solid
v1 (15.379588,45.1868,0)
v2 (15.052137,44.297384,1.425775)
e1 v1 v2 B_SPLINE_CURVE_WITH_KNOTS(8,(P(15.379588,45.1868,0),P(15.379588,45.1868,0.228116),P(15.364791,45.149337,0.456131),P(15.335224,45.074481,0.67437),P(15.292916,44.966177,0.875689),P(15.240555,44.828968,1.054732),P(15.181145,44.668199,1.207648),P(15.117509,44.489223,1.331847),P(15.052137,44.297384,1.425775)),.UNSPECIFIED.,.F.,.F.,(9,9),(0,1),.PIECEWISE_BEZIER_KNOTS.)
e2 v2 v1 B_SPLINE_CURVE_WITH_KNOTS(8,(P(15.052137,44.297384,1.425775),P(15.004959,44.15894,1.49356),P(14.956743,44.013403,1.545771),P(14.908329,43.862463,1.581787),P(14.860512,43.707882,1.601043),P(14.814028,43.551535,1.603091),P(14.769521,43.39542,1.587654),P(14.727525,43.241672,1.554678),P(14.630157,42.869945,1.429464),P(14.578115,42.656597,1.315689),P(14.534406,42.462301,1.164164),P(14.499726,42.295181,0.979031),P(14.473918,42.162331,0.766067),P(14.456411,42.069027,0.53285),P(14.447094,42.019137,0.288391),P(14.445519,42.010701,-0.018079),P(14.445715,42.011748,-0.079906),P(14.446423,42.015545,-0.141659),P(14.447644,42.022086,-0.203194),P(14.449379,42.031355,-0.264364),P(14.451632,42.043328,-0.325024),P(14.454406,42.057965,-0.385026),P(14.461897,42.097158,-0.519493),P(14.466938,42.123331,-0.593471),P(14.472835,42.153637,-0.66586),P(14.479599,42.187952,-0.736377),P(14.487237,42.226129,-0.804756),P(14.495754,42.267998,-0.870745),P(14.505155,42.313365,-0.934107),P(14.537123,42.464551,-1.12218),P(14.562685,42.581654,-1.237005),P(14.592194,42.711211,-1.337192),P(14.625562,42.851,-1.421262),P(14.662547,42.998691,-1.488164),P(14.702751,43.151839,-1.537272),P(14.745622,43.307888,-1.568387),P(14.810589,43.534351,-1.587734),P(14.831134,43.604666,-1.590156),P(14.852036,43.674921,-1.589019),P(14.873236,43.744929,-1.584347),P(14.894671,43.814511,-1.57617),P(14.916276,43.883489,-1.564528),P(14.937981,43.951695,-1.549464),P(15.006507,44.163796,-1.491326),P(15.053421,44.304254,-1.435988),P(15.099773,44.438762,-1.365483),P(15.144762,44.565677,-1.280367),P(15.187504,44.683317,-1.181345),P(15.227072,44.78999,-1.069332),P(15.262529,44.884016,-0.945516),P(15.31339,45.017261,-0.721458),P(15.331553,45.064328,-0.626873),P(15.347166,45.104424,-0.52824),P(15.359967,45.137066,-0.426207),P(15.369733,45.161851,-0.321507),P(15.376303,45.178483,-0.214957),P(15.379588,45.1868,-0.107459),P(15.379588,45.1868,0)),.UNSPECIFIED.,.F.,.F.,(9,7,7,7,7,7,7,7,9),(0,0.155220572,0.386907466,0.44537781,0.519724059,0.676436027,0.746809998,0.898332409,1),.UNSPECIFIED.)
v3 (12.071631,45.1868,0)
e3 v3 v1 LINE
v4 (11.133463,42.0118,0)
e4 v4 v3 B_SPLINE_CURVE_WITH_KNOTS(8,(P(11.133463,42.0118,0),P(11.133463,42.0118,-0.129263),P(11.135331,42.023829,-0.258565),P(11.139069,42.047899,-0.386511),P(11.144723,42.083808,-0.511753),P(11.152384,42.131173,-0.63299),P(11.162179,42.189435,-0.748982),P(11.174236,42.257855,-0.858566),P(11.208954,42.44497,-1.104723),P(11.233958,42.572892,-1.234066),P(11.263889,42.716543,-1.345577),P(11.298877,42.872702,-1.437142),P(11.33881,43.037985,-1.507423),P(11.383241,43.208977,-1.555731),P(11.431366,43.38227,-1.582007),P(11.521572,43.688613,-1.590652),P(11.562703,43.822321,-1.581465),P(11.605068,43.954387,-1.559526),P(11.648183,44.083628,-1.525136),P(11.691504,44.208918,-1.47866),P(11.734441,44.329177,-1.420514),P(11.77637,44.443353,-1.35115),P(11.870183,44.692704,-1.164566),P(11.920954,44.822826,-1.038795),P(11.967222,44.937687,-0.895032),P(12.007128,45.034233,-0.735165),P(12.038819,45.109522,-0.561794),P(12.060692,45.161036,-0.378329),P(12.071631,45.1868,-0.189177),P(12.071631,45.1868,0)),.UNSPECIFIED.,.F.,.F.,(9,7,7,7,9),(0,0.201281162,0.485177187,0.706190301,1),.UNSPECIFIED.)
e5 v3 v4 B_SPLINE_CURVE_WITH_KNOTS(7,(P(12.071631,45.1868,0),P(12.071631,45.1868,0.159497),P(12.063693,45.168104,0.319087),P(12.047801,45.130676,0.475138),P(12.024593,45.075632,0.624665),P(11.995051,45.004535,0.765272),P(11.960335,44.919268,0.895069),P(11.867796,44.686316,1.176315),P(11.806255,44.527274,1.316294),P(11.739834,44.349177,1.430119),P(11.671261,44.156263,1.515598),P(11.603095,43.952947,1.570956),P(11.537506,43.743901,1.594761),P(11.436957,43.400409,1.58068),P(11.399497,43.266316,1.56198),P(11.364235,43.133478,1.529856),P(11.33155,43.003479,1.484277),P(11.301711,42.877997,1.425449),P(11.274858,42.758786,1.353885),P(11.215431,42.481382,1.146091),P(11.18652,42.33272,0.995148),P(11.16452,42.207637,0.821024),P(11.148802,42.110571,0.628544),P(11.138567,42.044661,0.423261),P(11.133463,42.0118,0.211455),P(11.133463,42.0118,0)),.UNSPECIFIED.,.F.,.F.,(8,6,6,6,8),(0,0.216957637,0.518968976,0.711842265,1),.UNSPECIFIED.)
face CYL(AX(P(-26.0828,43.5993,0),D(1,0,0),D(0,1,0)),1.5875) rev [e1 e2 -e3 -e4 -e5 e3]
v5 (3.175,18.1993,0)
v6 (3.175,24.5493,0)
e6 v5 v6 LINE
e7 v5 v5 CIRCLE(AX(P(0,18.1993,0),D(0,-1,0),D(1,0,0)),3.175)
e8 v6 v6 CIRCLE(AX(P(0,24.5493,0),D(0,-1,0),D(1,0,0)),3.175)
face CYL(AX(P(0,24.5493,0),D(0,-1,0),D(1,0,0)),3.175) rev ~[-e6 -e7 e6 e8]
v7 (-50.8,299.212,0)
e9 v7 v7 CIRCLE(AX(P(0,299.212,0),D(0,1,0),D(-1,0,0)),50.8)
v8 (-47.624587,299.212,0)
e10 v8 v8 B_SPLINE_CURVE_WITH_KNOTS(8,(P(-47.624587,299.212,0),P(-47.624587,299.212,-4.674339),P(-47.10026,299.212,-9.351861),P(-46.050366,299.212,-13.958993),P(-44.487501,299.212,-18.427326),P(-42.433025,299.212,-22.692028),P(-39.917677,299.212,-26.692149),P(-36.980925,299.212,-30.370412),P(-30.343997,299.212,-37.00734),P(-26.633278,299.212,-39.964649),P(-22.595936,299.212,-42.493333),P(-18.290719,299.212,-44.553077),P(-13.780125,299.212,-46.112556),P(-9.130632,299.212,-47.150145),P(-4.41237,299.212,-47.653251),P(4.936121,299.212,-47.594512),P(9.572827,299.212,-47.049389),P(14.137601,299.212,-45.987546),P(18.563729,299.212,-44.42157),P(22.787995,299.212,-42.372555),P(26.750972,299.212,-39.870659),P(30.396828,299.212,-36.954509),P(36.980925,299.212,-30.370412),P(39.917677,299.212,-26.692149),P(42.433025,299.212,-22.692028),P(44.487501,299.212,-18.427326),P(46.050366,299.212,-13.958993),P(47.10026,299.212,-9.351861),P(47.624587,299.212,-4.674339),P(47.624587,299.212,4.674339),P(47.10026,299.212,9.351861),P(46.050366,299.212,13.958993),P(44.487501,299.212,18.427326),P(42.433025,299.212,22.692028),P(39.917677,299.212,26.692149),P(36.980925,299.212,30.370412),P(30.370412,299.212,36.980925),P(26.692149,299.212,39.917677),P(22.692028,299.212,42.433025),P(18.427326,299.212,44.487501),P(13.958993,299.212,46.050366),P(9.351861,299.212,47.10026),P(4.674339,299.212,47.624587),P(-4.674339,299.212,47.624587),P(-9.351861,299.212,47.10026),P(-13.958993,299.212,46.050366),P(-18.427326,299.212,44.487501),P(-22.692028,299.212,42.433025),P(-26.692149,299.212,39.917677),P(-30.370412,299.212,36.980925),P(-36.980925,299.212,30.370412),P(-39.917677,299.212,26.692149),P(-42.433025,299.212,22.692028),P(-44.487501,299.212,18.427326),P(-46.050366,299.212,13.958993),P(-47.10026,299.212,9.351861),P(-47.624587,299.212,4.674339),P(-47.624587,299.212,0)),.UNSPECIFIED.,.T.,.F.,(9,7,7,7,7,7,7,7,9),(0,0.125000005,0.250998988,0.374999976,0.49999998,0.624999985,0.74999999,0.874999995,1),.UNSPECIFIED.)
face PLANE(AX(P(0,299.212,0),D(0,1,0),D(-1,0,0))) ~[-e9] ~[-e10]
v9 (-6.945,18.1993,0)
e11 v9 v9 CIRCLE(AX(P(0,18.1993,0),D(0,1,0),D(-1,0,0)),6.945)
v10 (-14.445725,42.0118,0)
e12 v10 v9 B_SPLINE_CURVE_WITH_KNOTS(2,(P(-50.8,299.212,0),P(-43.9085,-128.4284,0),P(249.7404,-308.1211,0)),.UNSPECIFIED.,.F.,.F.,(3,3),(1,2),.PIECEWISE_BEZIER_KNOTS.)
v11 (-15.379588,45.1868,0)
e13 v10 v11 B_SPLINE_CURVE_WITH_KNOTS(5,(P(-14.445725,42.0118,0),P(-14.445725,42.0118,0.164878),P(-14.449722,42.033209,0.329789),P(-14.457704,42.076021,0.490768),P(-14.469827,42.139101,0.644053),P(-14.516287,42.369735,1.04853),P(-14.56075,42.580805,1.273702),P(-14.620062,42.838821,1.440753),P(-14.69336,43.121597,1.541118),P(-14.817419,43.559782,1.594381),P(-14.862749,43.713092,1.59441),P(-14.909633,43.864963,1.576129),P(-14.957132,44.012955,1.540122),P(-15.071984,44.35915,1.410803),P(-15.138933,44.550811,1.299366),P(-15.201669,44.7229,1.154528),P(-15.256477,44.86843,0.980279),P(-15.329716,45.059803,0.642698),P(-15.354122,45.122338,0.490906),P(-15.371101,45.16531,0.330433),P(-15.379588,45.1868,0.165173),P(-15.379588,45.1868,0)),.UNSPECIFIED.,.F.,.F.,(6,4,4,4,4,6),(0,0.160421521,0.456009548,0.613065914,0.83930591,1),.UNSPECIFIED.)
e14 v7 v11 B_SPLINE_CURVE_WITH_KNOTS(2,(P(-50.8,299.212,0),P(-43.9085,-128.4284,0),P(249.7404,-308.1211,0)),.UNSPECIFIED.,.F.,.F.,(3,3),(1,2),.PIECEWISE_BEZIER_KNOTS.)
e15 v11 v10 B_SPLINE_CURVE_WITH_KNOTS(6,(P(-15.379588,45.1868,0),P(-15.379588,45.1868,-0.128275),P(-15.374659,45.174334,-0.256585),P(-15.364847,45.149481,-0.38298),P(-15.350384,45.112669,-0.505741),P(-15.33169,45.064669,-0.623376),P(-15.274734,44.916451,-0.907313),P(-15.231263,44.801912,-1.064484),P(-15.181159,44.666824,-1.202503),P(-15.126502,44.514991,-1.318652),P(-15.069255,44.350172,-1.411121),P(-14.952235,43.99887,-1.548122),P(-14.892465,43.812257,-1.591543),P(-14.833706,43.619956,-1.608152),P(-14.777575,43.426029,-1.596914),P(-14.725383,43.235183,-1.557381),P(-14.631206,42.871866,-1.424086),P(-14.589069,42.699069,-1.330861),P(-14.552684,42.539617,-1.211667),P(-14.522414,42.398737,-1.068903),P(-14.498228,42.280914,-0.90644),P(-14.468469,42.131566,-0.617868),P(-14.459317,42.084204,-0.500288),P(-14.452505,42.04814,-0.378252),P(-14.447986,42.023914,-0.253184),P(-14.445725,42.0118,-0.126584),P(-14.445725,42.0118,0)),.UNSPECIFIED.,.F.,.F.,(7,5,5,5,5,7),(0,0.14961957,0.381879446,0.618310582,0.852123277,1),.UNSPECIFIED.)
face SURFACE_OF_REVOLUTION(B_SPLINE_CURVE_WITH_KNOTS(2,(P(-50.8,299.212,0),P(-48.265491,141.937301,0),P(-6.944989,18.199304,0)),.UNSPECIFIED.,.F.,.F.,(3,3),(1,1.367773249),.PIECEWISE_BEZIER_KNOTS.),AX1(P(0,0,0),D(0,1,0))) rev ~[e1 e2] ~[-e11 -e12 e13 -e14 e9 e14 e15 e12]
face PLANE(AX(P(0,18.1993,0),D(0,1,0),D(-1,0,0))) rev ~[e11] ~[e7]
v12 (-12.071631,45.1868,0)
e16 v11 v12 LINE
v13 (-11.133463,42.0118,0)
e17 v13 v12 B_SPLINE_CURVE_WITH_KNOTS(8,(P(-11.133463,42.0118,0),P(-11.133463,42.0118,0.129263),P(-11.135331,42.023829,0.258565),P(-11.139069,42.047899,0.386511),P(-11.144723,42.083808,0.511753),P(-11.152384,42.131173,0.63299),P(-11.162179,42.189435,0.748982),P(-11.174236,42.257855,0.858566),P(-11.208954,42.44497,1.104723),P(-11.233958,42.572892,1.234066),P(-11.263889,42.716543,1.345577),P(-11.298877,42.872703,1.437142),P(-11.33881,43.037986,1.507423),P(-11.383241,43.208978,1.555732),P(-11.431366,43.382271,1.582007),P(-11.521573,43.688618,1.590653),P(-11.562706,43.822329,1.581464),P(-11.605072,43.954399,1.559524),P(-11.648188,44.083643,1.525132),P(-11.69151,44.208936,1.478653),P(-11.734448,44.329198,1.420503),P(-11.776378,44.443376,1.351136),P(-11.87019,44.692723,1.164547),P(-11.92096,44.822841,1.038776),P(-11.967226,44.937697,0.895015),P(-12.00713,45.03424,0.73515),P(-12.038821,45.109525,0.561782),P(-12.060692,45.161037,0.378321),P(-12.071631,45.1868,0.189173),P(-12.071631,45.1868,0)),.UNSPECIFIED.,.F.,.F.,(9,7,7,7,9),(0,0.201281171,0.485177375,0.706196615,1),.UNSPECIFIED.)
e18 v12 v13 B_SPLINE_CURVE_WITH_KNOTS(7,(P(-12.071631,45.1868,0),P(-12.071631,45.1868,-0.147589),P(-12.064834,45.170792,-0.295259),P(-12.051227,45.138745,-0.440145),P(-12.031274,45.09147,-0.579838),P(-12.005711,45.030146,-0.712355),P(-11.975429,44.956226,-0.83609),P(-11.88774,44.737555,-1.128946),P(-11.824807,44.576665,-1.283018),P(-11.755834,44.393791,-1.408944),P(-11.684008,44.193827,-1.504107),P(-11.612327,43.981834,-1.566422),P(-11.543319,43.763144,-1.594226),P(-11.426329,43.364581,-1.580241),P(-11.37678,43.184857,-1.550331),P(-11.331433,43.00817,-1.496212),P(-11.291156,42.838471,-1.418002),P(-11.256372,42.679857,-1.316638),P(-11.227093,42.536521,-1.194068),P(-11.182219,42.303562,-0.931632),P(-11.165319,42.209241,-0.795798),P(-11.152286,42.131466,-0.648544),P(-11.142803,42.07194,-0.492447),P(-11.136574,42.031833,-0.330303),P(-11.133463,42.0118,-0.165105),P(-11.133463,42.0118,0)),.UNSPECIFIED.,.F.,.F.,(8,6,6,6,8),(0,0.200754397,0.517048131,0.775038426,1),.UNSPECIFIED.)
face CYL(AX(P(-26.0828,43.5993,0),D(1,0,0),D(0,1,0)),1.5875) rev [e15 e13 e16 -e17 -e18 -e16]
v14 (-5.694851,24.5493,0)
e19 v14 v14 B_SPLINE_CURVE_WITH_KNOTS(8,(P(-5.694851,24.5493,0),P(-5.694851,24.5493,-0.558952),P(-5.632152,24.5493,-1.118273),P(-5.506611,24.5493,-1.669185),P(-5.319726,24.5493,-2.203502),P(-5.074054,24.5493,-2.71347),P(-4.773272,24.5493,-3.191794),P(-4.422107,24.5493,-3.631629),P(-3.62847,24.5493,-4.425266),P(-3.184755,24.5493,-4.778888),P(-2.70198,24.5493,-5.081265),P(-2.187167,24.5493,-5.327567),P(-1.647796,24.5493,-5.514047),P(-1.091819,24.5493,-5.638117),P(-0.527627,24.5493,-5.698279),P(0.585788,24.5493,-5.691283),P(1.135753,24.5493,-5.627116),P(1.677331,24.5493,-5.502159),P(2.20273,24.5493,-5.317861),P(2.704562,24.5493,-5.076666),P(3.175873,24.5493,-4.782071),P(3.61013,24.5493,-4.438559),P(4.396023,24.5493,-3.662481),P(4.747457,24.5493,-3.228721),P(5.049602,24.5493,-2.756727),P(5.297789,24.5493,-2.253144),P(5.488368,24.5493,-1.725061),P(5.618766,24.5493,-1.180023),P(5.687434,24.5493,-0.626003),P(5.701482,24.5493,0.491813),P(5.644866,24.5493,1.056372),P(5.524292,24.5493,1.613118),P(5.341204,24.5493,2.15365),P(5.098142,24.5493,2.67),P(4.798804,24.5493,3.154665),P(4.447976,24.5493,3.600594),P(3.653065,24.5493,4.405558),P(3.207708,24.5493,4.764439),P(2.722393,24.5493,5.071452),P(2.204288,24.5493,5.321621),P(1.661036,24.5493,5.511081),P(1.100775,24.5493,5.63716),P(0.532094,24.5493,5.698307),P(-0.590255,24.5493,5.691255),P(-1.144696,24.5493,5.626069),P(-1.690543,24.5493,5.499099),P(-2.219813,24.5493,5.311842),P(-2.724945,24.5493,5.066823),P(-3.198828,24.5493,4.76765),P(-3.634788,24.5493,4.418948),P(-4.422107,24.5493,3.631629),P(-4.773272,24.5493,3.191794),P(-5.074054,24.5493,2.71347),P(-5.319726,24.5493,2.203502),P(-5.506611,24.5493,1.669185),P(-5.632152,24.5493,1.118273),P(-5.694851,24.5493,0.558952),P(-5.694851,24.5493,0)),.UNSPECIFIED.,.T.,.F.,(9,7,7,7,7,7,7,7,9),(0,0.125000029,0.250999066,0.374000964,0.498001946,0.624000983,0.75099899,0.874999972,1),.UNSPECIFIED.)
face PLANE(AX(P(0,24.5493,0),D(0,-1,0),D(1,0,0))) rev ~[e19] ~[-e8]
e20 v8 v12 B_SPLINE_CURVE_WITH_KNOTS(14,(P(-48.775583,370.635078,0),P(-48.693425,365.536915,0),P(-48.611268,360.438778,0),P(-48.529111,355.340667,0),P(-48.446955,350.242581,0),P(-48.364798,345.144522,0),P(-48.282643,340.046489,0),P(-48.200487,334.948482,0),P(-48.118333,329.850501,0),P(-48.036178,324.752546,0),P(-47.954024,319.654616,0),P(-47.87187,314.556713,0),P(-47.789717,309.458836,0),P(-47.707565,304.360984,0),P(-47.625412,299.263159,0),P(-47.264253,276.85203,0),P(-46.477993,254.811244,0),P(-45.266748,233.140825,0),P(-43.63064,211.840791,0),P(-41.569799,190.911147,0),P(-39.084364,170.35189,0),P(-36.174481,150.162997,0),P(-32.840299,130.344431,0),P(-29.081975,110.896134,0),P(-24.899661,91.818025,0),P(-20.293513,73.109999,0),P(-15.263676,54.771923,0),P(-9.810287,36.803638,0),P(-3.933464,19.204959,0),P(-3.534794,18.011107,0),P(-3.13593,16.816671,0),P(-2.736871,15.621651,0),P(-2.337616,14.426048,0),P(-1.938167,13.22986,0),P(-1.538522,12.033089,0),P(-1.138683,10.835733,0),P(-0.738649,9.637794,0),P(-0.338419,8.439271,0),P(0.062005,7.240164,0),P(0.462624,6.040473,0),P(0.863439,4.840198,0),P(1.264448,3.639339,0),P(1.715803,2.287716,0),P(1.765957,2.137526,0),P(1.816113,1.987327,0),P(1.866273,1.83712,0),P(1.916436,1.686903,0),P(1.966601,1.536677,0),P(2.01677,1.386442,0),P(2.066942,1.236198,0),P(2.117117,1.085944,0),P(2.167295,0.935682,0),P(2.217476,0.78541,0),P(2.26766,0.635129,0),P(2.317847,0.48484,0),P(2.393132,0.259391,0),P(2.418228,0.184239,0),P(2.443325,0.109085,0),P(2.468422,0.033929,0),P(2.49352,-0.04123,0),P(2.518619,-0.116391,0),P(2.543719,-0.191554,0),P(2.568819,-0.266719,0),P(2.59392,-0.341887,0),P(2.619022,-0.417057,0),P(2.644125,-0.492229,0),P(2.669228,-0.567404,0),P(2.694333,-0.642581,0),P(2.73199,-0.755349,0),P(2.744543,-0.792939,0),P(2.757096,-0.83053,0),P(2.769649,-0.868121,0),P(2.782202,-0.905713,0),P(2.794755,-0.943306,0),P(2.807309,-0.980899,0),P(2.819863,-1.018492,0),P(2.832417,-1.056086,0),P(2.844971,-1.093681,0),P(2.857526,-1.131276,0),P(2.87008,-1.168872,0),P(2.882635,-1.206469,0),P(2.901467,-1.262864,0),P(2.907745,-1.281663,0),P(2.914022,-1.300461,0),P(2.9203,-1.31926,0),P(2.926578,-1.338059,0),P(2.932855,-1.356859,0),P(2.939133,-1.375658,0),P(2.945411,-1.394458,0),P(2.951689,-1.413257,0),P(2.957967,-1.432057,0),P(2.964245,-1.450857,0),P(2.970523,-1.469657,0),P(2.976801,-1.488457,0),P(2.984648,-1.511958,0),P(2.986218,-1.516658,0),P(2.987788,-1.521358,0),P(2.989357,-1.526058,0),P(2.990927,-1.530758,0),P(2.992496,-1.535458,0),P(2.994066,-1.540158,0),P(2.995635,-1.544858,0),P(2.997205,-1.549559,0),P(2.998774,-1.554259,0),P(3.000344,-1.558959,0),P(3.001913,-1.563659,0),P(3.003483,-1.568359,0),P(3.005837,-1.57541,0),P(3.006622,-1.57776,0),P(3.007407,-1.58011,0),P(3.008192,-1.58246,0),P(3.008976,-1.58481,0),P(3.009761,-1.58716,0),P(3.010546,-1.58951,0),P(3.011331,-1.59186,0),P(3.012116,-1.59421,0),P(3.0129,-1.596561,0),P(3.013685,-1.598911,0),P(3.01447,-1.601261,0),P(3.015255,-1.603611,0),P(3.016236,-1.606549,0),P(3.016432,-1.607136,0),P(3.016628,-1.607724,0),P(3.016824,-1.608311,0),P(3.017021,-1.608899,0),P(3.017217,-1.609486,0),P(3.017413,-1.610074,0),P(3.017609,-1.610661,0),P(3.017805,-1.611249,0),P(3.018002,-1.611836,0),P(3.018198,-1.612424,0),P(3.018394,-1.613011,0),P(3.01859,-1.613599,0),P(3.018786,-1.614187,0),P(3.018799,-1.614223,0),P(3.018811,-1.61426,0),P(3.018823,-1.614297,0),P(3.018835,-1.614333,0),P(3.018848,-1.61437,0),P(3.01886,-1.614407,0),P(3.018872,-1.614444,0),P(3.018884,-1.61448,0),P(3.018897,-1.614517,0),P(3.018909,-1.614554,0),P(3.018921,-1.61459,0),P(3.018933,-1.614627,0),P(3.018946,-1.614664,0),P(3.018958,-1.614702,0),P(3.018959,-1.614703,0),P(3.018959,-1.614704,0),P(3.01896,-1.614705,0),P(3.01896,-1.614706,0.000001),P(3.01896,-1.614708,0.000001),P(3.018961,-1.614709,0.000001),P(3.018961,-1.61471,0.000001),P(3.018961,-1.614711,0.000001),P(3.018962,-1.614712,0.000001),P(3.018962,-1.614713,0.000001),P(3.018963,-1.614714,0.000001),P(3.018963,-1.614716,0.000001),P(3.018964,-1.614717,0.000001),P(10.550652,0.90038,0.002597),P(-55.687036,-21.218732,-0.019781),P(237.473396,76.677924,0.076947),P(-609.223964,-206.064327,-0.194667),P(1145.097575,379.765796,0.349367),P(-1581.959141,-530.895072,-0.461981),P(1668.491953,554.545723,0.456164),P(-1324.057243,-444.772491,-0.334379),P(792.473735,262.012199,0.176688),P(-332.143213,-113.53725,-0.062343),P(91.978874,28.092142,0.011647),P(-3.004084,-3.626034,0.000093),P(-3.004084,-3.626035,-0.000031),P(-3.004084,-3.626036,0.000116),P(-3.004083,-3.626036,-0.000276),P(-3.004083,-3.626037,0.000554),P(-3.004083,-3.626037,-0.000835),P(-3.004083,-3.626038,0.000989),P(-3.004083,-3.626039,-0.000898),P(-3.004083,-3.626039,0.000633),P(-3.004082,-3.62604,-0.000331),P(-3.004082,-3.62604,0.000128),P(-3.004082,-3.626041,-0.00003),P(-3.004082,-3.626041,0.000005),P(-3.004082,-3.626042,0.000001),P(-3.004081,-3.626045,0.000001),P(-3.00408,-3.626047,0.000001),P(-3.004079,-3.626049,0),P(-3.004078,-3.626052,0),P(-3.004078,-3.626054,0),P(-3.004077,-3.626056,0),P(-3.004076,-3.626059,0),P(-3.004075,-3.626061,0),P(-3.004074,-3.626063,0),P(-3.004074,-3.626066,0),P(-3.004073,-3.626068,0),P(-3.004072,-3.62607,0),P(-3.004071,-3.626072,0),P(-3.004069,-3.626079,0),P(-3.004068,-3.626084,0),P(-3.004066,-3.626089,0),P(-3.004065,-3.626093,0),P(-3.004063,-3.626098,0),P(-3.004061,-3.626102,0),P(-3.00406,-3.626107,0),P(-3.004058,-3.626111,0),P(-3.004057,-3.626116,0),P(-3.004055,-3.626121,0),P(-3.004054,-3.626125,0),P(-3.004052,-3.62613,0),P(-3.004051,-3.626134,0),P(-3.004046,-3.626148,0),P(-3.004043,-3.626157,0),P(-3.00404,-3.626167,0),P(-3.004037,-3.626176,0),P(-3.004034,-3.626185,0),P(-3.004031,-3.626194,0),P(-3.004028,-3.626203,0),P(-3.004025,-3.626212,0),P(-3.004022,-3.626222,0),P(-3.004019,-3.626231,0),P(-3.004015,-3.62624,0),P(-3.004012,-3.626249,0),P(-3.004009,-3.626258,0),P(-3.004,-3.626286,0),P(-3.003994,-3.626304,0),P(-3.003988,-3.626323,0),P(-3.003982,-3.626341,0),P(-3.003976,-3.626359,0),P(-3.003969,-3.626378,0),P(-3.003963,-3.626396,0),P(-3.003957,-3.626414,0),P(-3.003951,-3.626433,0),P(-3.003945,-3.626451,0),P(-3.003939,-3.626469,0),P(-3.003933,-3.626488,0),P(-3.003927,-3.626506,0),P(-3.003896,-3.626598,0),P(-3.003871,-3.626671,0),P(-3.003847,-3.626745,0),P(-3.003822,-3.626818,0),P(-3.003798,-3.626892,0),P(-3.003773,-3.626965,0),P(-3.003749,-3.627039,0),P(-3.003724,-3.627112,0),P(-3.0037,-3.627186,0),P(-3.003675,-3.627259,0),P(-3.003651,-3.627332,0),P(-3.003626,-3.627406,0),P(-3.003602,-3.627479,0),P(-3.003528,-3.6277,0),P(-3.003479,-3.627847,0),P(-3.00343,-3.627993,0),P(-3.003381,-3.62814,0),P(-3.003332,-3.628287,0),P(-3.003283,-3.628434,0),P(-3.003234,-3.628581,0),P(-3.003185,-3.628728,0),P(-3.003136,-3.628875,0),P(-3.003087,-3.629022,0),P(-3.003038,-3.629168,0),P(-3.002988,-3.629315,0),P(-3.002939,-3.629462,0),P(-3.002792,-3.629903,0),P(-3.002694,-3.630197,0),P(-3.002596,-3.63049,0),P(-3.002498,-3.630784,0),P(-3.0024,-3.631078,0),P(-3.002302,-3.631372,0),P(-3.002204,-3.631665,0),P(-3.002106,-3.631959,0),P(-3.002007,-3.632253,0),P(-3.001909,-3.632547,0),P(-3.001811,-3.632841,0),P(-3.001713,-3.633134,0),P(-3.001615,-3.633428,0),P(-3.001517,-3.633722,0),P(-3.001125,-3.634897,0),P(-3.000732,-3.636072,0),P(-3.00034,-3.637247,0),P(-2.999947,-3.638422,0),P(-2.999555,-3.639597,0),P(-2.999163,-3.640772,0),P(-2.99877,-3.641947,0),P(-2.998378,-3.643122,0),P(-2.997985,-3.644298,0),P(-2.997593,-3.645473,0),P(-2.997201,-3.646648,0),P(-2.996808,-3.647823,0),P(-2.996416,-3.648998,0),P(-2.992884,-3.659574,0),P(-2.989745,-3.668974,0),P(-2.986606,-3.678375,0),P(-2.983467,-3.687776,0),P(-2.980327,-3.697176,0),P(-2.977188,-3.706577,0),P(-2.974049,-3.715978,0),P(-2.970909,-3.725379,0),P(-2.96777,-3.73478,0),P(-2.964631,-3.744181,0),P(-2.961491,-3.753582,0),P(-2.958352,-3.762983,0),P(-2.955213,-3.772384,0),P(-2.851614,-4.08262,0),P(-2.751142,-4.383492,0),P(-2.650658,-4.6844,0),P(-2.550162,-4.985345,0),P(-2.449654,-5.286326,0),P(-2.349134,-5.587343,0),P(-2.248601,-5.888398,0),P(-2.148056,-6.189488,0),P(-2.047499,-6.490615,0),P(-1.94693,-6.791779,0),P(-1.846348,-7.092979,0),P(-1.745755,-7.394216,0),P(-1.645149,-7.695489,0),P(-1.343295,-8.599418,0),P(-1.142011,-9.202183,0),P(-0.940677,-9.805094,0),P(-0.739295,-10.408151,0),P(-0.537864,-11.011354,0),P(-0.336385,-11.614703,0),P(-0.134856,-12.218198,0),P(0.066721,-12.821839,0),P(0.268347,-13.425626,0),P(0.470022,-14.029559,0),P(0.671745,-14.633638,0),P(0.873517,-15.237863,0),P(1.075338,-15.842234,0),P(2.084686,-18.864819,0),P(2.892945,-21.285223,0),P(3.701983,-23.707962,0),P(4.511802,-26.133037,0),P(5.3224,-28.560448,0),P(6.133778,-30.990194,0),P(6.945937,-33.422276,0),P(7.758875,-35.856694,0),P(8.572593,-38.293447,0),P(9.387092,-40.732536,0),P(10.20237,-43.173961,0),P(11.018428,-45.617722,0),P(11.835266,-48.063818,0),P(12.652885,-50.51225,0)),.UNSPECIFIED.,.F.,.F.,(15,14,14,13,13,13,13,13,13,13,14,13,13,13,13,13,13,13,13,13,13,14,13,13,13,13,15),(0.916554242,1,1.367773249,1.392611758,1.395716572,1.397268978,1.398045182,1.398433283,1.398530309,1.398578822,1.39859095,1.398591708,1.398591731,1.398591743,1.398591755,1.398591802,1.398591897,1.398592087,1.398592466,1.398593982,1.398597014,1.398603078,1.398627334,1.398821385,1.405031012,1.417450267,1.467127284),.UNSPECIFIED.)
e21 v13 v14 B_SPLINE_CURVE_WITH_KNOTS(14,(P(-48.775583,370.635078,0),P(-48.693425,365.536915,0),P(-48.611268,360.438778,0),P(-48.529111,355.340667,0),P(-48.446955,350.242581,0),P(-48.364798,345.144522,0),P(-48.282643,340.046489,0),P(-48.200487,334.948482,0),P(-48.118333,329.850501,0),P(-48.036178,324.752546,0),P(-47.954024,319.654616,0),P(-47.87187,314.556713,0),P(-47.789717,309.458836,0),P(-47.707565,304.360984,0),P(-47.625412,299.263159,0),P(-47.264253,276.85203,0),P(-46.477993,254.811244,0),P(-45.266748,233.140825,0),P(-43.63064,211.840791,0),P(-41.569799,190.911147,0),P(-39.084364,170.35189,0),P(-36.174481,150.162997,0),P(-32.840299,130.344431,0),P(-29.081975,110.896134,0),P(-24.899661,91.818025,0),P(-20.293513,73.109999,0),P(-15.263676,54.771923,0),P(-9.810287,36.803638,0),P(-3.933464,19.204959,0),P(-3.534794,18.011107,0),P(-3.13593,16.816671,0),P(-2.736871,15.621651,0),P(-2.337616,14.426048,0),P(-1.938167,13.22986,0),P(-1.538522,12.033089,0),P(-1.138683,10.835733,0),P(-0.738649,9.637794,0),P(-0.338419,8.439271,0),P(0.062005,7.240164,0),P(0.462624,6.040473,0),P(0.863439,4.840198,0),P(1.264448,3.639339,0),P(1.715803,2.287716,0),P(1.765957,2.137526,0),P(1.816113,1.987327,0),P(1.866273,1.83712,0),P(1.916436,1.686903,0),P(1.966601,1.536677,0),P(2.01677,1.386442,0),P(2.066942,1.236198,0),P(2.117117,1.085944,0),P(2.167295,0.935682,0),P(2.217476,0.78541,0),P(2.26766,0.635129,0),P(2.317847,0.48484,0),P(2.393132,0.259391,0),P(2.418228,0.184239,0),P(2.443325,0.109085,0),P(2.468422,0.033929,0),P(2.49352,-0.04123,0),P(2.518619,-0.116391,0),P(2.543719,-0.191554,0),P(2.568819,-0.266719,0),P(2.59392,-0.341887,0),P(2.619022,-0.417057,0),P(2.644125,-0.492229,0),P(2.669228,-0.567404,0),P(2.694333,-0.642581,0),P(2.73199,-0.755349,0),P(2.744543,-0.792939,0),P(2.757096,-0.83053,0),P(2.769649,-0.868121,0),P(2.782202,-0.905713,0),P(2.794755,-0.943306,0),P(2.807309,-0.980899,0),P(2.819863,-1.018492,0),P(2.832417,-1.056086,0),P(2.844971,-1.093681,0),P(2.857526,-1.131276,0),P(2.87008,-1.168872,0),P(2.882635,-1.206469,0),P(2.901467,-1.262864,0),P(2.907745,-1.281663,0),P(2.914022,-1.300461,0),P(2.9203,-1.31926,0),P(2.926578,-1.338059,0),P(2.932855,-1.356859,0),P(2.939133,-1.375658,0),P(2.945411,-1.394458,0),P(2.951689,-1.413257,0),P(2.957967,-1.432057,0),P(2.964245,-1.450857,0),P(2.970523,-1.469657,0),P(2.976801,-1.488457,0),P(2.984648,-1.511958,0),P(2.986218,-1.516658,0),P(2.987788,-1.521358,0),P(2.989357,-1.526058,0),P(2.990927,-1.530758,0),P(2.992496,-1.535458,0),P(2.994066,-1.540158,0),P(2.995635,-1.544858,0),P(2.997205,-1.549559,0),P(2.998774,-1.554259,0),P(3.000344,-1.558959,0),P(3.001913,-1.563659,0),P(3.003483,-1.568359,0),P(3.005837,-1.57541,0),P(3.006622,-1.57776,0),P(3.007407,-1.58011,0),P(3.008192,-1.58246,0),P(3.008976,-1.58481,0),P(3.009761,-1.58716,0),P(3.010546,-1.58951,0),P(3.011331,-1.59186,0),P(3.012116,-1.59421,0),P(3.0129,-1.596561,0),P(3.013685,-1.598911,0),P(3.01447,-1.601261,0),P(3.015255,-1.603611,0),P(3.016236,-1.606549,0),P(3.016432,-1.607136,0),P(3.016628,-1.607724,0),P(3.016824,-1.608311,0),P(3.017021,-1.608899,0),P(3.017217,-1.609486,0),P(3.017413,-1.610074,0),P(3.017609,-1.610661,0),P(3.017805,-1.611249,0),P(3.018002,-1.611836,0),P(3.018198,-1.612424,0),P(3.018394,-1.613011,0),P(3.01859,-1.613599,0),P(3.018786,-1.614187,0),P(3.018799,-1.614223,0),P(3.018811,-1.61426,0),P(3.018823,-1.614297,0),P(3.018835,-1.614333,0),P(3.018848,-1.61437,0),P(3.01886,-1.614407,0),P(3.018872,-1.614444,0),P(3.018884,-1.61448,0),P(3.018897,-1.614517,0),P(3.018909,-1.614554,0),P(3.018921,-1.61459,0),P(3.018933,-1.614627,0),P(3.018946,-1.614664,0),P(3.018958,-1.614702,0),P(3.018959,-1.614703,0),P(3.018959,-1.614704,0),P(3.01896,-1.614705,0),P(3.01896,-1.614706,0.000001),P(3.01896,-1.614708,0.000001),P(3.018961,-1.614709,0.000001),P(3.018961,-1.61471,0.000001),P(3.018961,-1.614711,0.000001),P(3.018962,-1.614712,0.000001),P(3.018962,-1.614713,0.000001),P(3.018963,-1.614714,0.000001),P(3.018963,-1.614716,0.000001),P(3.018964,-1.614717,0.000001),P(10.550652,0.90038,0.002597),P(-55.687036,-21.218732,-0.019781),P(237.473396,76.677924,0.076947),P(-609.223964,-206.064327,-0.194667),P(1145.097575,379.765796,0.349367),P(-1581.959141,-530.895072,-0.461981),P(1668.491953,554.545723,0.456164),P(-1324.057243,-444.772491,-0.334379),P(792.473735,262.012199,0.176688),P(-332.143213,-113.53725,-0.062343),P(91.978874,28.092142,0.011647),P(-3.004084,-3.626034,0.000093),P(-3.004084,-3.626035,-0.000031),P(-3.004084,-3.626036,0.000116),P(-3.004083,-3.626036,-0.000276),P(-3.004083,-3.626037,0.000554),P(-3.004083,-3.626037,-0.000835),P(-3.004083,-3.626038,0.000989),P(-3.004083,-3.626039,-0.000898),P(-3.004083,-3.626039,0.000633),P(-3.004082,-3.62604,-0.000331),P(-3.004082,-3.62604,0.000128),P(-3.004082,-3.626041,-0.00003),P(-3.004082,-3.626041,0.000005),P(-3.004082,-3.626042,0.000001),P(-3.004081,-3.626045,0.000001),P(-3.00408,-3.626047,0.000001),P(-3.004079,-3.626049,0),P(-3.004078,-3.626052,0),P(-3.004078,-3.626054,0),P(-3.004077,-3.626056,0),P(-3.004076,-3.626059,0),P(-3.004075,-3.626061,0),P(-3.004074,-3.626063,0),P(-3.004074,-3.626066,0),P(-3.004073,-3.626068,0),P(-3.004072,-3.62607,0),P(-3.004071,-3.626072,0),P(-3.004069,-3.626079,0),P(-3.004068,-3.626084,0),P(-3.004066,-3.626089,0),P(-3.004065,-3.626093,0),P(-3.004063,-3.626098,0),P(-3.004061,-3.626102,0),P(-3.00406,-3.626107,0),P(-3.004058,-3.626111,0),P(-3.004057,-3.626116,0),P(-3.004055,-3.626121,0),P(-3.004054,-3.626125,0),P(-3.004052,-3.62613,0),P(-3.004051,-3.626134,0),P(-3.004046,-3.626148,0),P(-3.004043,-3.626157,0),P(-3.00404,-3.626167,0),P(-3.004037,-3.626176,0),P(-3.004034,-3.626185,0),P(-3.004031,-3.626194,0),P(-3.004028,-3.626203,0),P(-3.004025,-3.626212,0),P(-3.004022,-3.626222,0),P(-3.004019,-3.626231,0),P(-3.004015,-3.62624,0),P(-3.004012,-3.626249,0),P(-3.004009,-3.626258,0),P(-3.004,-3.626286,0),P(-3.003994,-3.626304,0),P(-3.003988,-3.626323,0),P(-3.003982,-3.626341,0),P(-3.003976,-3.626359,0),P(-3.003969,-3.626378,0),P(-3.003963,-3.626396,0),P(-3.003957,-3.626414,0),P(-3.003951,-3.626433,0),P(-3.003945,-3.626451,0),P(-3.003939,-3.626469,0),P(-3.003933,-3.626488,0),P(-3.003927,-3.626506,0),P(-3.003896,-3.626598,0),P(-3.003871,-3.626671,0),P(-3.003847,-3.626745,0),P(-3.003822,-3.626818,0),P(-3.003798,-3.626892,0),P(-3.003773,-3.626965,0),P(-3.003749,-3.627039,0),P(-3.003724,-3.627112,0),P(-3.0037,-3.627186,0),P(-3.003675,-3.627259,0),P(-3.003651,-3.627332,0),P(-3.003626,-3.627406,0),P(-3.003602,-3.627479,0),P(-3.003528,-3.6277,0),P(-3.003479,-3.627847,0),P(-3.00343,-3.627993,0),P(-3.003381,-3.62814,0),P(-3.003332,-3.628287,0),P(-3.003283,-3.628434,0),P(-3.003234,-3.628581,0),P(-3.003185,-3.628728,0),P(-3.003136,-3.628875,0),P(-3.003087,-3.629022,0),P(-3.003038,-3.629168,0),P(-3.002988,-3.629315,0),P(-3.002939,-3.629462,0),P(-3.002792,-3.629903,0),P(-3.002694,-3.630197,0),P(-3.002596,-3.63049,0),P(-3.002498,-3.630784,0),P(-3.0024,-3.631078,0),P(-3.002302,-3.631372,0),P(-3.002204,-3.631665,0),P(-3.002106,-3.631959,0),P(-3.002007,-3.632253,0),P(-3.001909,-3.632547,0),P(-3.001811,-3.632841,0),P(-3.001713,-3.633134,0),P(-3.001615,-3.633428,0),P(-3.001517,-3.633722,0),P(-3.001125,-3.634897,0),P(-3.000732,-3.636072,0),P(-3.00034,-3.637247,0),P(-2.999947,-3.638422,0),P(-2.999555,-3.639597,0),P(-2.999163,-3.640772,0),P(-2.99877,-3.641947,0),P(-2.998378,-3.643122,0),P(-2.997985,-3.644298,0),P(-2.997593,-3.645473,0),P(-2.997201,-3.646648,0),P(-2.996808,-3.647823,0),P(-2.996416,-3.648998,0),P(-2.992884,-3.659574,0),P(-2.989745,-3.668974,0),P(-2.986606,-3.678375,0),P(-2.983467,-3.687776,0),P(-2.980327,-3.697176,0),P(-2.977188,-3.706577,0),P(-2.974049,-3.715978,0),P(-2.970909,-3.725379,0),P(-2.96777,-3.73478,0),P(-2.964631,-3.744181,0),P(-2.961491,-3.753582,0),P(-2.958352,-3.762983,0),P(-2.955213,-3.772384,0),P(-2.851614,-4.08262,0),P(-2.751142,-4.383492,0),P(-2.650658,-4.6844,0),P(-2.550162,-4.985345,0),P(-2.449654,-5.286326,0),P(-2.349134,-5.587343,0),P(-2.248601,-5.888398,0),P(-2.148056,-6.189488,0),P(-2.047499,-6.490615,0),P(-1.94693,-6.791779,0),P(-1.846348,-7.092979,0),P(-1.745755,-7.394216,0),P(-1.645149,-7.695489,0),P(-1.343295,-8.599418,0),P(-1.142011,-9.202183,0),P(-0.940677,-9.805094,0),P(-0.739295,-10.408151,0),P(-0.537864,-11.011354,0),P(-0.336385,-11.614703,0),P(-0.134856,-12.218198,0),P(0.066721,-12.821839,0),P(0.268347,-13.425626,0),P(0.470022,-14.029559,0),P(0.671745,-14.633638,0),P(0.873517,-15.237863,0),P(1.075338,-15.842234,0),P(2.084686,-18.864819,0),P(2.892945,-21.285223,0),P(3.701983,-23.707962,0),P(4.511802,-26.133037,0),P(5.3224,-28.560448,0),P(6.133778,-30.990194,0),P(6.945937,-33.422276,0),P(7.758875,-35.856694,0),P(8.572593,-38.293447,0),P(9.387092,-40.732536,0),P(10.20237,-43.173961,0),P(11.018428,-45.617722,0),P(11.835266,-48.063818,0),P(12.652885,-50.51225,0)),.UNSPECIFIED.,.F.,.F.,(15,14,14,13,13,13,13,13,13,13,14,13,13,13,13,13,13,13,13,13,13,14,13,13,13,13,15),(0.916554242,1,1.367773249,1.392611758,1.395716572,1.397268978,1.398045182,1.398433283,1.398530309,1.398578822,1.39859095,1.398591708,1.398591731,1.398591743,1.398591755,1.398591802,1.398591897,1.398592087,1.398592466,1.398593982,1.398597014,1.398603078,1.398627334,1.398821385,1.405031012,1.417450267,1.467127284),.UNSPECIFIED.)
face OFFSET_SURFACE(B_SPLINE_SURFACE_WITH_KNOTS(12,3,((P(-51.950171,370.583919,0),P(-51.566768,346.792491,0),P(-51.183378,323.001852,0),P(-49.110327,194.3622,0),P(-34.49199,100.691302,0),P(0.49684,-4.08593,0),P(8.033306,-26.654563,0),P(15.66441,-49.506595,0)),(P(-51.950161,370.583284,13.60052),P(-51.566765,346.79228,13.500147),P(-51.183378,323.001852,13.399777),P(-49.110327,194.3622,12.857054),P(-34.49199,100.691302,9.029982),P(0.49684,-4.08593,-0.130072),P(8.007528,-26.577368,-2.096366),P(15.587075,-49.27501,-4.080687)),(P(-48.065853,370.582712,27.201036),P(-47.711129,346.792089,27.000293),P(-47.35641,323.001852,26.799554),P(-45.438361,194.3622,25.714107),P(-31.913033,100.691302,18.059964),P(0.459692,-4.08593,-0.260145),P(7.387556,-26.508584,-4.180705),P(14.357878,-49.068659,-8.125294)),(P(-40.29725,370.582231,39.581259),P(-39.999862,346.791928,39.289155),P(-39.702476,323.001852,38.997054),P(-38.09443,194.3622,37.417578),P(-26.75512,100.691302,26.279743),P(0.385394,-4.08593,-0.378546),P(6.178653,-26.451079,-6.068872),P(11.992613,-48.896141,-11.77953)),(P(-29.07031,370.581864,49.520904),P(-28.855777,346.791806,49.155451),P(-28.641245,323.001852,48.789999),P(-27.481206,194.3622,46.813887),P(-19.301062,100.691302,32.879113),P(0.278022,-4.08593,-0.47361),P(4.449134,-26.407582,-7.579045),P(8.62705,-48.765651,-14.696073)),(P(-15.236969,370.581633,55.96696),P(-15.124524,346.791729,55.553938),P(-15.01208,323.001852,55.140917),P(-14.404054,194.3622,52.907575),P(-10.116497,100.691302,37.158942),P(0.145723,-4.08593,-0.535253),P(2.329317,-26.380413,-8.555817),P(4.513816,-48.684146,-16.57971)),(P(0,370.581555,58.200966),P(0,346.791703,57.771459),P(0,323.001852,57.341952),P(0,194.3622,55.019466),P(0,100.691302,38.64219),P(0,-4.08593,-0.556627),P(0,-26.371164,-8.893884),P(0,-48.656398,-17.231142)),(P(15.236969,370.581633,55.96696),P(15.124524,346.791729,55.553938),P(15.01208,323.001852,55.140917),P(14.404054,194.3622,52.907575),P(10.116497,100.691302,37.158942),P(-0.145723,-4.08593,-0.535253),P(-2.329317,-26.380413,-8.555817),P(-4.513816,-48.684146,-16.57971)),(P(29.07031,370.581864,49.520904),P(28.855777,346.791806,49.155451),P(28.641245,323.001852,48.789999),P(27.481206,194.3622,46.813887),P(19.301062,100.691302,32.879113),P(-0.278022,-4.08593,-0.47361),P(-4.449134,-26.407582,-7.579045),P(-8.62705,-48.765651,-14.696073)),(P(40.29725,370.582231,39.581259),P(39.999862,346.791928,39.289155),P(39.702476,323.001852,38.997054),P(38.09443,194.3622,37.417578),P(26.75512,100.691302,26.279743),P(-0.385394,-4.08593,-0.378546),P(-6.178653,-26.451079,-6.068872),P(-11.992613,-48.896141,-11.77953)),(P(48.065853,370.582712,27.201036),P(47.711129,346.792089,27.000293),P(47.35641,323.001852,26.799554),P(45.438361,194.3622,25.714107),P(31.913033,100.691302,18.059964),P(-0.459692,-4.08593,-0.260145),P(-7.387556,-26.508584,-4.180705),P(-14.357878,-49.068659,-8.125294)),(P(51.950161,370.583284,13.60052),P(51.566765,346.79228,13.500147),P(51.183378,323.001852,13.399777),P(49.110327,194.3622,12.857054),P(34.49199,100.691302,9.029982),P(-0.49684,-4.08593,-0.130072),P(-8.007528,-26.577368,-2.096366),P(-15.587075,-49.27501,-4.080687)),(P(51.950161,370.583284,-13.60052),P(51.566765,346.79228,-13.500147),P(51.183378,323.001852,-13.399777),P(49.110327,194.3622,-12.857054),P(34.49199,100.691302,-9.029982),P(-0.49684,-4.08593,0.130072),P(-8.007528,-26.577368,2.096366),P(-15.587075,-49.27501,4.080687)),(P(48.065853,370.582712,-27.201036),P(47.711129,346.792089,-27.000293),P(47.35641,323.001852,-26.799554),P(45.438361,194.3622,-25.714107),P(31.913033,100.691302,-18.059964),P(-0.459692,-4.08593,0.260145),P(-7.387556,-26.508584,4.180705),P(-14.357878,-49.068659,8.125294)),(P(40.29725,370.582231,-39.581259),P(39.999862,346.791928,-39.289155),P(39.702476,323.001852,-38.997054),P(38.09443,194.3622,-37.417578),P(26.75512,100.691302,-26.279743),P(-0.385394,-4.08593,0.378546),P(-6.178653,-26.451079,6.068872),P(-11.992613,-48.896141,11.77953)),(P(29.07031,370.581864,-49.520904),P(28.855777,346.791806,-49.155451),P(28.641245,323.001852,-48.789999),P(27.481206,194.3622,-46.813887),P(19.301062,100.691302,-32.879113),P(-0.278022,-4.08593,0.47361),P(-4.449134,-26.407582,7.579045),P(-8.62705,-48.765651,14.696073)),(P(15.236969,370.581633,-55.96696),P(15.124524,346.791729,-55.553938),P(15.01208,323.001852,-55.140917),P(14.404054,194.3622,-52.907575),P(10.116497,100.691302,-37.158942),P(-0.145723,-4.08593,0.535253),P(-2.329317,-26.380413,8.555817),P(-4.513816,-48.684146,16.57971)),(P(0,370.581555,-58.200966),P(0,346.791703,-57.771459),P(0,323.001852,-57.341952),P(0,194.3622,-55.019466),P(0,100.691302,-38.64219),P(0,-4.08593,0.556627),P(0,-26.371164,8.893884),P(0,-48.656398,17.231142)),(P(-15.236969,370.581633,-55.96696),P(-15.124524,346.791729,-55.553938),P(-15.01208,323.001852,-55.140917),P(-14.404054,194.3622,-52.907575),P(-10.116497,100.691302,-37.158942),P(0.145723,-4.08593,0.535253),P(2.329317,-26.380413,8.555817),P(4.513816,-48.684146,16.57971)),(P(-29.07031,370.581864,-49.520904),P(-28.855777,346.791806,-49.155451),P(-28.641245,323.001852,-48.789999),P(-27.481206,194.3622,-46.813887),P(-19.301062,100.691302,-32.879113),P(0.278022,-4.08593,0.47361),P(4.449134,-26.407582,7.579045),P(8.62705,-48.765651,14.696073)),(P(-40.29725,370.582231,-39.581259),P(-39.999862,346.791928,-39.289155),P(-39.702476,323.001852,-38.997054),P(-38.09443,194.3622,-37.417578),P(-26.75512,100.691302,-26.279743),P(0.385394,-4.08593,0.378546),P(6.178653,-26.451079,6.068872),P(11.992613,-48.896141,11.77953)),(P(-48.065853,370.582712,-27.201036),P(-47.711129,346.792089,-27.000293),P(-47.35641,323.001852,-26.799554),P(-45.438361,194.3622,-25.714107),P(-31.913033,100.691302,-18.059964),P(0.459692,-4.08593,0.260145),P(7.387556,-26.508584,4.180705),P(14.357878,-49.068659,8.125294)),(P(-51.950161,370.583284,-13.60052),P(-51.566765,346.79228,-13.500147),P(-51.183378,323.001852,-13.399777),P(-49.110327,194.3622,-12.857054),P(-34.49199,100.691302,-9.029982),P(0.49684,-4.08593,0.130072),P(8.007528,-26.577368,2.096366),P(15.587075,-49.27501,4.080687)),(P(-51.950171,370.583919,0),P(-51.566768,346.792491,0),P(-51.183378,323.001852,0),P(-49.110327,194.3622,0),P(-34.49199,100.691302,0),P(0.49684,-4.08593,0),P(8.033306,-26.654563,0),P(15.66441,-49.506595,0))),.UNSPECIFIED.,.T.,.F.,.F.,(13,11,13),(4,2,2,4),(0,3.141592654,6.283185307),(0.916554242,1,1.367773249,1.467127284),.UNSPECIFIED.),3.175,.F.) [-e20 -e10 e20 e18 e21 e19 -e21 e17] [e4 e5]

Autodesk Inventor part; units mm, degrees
ref_plane "YZ Plane" through (0, 0, 0) normal (1, 0, 0) x (0, 1, 0)
ref_plane "XZ Plane" through (0, 0, 0) normal (0, 1, 0) x (-1, 0, 0)
ref_plane "XY Plane" through (0, 0, 0) normal (0, 0, 1) x (1, 0, 0)
sketch "Sketch2" plane through (0, 0, 0) normal (0, 0, 1) x (1, 0, 0)
  line L0 (-528.9365, -48.3632) -> (-528.9365, 1201.5435) construction
  line L1 (-528.9365, 1201.5435) -> (398.4136, 1201.5435) construction
  line L2 (398.4136, 1201.5435) -> (398.4136, -48.3632) construction
  line L3 (398.4136, -48.3632) -> (-528.9365, -48.3632) construction
  point P0 (0, 0)
sketch "Sketch1" plane through (0, 0, 0) normal (0, 0, 1) x (1, 0, 0)
  line L0 (0, 0) -> (0, 299.212)
  line L1 (0, 299.212) -> (50.8, 299.212)
  line L2 (50.8, 299.212) -> (-50.8, 299.212)
  line L3 (-50.8, 299.212) -> (-43.9085, -128.4284) construction
  line L4 (-43.9085, -128.4284) -> (249.7404, -308.1211) construction
  spline S0 degree 2 poles (-50.8, 299.212) (-43.9085, -128.4284) (249.7404, -308.1211) knots 1 1 1 2 2 2
  line L5 (50.8, 299.212) -> (43.9085, -128.4284) construction
  line L6 (43.9085, -128.4284) -> (-249.7404, -308.1211) construction
  spline S1 degree 2 poles (50.8, 299.212) (43.9085, -128.4284) (-249.7404, -308.1211) knots 1 1 1 2 2 2
  line L7 (-6.945, 18.1993) -> (0, 18.1993)
  line L8 (0, 18.1993) -> (0, 299.212)
  line L9 (0, 299.212) -> (-50.8, 299.212)
  dimension "d0" = 299.212
  dimension "d1" = 50.8
  dimension "d2" = 101.6
  dimension "d50" = 281.0127
revolve "Revolution1" add sketch "Sketch1" angle 360 about axis through (0, 0, 0) along (0, 1, 0) contours L7 S0 L2 L0
shell "Shell1" thickness 3.175 removed faces 1 at (-11.9737, 299.212, 11.9737)
sketch "Sketch3" plane through (0, 0, 0) normal (0, 0, 1) x (1, 0, 0)
  line L0 (6.945, 18.1993) -> (-6.945, 18.1993) projected
  line L1 (50.8, 299.212) -> (-50.8, 299.212) projected
  line L2 (0, 18.1993) -> (0, 43.5993)
  line L3 (23.4579, 43.5993) -> (-26.0828, 43.5993)
  line L4 (-26.0828, 43.5993) -> (-26.0828, 45.1868)
  line L5 (-26.0828, 45.1868) -> (23.4579, 45.1868)
  line L6 (23.4579, 45.1868) -> (23.4579, 43.5993)
  point P0 (0, 0)
  dimension "d40" = 25.4
  dimension "d41" = 1.5875
revolve "Revolution2" cut sketch "Sketch3" angle 360 about axis through (23.4579, 43.5993, 0) along (-1, 0, 0)
sketch "Sketch4" plane through (0, 18.1993, 0) normal (0, -1, 0) x (1, 0, 0)
  circle A0 centre (0, 0) radius 6.945 projected
  circle A1 centre (0, 0) radius 3.175
  point P0 (-6.945, 0)
  dimension "d43" = 6.35
extrude "Extrusion1" cut sketch "Sketch4" against normal up to surface (3.175 mm away) contours A1
sketch "Sketch7" plane through (0, 0, 0) normal (0, 0, 1) x (1, 0, 0)
  line L0 (-3.175, 21.3743) -> (3.175, 21.3743) projected
  line L1 (3.175, 21.3743) -> (6.35, 21.3743)
  line L2 (6.35, 21.3743) -> (6.35, 24.5493)
  line L3 (6.35, 24.5493) -> (3.175, 24.5493)
  line L4 (3.175, 24.5493) -> (3.175, 21.3743)
  line L5 (0, 21.3743) -> (0, 23.4701)
  line L6 (0, 23.4701) -> (0, 15.284)
  point P0 (0, 0)
  dimension "d46" = 3.175
  dimension "d47" = 3.175
revolve "Revolution3" add sketch "Sketch7" angle 360 about axis through (0, 23.4701, 0) along (0, -1, 0)
properties part number "PrimarySingleAft_03"
